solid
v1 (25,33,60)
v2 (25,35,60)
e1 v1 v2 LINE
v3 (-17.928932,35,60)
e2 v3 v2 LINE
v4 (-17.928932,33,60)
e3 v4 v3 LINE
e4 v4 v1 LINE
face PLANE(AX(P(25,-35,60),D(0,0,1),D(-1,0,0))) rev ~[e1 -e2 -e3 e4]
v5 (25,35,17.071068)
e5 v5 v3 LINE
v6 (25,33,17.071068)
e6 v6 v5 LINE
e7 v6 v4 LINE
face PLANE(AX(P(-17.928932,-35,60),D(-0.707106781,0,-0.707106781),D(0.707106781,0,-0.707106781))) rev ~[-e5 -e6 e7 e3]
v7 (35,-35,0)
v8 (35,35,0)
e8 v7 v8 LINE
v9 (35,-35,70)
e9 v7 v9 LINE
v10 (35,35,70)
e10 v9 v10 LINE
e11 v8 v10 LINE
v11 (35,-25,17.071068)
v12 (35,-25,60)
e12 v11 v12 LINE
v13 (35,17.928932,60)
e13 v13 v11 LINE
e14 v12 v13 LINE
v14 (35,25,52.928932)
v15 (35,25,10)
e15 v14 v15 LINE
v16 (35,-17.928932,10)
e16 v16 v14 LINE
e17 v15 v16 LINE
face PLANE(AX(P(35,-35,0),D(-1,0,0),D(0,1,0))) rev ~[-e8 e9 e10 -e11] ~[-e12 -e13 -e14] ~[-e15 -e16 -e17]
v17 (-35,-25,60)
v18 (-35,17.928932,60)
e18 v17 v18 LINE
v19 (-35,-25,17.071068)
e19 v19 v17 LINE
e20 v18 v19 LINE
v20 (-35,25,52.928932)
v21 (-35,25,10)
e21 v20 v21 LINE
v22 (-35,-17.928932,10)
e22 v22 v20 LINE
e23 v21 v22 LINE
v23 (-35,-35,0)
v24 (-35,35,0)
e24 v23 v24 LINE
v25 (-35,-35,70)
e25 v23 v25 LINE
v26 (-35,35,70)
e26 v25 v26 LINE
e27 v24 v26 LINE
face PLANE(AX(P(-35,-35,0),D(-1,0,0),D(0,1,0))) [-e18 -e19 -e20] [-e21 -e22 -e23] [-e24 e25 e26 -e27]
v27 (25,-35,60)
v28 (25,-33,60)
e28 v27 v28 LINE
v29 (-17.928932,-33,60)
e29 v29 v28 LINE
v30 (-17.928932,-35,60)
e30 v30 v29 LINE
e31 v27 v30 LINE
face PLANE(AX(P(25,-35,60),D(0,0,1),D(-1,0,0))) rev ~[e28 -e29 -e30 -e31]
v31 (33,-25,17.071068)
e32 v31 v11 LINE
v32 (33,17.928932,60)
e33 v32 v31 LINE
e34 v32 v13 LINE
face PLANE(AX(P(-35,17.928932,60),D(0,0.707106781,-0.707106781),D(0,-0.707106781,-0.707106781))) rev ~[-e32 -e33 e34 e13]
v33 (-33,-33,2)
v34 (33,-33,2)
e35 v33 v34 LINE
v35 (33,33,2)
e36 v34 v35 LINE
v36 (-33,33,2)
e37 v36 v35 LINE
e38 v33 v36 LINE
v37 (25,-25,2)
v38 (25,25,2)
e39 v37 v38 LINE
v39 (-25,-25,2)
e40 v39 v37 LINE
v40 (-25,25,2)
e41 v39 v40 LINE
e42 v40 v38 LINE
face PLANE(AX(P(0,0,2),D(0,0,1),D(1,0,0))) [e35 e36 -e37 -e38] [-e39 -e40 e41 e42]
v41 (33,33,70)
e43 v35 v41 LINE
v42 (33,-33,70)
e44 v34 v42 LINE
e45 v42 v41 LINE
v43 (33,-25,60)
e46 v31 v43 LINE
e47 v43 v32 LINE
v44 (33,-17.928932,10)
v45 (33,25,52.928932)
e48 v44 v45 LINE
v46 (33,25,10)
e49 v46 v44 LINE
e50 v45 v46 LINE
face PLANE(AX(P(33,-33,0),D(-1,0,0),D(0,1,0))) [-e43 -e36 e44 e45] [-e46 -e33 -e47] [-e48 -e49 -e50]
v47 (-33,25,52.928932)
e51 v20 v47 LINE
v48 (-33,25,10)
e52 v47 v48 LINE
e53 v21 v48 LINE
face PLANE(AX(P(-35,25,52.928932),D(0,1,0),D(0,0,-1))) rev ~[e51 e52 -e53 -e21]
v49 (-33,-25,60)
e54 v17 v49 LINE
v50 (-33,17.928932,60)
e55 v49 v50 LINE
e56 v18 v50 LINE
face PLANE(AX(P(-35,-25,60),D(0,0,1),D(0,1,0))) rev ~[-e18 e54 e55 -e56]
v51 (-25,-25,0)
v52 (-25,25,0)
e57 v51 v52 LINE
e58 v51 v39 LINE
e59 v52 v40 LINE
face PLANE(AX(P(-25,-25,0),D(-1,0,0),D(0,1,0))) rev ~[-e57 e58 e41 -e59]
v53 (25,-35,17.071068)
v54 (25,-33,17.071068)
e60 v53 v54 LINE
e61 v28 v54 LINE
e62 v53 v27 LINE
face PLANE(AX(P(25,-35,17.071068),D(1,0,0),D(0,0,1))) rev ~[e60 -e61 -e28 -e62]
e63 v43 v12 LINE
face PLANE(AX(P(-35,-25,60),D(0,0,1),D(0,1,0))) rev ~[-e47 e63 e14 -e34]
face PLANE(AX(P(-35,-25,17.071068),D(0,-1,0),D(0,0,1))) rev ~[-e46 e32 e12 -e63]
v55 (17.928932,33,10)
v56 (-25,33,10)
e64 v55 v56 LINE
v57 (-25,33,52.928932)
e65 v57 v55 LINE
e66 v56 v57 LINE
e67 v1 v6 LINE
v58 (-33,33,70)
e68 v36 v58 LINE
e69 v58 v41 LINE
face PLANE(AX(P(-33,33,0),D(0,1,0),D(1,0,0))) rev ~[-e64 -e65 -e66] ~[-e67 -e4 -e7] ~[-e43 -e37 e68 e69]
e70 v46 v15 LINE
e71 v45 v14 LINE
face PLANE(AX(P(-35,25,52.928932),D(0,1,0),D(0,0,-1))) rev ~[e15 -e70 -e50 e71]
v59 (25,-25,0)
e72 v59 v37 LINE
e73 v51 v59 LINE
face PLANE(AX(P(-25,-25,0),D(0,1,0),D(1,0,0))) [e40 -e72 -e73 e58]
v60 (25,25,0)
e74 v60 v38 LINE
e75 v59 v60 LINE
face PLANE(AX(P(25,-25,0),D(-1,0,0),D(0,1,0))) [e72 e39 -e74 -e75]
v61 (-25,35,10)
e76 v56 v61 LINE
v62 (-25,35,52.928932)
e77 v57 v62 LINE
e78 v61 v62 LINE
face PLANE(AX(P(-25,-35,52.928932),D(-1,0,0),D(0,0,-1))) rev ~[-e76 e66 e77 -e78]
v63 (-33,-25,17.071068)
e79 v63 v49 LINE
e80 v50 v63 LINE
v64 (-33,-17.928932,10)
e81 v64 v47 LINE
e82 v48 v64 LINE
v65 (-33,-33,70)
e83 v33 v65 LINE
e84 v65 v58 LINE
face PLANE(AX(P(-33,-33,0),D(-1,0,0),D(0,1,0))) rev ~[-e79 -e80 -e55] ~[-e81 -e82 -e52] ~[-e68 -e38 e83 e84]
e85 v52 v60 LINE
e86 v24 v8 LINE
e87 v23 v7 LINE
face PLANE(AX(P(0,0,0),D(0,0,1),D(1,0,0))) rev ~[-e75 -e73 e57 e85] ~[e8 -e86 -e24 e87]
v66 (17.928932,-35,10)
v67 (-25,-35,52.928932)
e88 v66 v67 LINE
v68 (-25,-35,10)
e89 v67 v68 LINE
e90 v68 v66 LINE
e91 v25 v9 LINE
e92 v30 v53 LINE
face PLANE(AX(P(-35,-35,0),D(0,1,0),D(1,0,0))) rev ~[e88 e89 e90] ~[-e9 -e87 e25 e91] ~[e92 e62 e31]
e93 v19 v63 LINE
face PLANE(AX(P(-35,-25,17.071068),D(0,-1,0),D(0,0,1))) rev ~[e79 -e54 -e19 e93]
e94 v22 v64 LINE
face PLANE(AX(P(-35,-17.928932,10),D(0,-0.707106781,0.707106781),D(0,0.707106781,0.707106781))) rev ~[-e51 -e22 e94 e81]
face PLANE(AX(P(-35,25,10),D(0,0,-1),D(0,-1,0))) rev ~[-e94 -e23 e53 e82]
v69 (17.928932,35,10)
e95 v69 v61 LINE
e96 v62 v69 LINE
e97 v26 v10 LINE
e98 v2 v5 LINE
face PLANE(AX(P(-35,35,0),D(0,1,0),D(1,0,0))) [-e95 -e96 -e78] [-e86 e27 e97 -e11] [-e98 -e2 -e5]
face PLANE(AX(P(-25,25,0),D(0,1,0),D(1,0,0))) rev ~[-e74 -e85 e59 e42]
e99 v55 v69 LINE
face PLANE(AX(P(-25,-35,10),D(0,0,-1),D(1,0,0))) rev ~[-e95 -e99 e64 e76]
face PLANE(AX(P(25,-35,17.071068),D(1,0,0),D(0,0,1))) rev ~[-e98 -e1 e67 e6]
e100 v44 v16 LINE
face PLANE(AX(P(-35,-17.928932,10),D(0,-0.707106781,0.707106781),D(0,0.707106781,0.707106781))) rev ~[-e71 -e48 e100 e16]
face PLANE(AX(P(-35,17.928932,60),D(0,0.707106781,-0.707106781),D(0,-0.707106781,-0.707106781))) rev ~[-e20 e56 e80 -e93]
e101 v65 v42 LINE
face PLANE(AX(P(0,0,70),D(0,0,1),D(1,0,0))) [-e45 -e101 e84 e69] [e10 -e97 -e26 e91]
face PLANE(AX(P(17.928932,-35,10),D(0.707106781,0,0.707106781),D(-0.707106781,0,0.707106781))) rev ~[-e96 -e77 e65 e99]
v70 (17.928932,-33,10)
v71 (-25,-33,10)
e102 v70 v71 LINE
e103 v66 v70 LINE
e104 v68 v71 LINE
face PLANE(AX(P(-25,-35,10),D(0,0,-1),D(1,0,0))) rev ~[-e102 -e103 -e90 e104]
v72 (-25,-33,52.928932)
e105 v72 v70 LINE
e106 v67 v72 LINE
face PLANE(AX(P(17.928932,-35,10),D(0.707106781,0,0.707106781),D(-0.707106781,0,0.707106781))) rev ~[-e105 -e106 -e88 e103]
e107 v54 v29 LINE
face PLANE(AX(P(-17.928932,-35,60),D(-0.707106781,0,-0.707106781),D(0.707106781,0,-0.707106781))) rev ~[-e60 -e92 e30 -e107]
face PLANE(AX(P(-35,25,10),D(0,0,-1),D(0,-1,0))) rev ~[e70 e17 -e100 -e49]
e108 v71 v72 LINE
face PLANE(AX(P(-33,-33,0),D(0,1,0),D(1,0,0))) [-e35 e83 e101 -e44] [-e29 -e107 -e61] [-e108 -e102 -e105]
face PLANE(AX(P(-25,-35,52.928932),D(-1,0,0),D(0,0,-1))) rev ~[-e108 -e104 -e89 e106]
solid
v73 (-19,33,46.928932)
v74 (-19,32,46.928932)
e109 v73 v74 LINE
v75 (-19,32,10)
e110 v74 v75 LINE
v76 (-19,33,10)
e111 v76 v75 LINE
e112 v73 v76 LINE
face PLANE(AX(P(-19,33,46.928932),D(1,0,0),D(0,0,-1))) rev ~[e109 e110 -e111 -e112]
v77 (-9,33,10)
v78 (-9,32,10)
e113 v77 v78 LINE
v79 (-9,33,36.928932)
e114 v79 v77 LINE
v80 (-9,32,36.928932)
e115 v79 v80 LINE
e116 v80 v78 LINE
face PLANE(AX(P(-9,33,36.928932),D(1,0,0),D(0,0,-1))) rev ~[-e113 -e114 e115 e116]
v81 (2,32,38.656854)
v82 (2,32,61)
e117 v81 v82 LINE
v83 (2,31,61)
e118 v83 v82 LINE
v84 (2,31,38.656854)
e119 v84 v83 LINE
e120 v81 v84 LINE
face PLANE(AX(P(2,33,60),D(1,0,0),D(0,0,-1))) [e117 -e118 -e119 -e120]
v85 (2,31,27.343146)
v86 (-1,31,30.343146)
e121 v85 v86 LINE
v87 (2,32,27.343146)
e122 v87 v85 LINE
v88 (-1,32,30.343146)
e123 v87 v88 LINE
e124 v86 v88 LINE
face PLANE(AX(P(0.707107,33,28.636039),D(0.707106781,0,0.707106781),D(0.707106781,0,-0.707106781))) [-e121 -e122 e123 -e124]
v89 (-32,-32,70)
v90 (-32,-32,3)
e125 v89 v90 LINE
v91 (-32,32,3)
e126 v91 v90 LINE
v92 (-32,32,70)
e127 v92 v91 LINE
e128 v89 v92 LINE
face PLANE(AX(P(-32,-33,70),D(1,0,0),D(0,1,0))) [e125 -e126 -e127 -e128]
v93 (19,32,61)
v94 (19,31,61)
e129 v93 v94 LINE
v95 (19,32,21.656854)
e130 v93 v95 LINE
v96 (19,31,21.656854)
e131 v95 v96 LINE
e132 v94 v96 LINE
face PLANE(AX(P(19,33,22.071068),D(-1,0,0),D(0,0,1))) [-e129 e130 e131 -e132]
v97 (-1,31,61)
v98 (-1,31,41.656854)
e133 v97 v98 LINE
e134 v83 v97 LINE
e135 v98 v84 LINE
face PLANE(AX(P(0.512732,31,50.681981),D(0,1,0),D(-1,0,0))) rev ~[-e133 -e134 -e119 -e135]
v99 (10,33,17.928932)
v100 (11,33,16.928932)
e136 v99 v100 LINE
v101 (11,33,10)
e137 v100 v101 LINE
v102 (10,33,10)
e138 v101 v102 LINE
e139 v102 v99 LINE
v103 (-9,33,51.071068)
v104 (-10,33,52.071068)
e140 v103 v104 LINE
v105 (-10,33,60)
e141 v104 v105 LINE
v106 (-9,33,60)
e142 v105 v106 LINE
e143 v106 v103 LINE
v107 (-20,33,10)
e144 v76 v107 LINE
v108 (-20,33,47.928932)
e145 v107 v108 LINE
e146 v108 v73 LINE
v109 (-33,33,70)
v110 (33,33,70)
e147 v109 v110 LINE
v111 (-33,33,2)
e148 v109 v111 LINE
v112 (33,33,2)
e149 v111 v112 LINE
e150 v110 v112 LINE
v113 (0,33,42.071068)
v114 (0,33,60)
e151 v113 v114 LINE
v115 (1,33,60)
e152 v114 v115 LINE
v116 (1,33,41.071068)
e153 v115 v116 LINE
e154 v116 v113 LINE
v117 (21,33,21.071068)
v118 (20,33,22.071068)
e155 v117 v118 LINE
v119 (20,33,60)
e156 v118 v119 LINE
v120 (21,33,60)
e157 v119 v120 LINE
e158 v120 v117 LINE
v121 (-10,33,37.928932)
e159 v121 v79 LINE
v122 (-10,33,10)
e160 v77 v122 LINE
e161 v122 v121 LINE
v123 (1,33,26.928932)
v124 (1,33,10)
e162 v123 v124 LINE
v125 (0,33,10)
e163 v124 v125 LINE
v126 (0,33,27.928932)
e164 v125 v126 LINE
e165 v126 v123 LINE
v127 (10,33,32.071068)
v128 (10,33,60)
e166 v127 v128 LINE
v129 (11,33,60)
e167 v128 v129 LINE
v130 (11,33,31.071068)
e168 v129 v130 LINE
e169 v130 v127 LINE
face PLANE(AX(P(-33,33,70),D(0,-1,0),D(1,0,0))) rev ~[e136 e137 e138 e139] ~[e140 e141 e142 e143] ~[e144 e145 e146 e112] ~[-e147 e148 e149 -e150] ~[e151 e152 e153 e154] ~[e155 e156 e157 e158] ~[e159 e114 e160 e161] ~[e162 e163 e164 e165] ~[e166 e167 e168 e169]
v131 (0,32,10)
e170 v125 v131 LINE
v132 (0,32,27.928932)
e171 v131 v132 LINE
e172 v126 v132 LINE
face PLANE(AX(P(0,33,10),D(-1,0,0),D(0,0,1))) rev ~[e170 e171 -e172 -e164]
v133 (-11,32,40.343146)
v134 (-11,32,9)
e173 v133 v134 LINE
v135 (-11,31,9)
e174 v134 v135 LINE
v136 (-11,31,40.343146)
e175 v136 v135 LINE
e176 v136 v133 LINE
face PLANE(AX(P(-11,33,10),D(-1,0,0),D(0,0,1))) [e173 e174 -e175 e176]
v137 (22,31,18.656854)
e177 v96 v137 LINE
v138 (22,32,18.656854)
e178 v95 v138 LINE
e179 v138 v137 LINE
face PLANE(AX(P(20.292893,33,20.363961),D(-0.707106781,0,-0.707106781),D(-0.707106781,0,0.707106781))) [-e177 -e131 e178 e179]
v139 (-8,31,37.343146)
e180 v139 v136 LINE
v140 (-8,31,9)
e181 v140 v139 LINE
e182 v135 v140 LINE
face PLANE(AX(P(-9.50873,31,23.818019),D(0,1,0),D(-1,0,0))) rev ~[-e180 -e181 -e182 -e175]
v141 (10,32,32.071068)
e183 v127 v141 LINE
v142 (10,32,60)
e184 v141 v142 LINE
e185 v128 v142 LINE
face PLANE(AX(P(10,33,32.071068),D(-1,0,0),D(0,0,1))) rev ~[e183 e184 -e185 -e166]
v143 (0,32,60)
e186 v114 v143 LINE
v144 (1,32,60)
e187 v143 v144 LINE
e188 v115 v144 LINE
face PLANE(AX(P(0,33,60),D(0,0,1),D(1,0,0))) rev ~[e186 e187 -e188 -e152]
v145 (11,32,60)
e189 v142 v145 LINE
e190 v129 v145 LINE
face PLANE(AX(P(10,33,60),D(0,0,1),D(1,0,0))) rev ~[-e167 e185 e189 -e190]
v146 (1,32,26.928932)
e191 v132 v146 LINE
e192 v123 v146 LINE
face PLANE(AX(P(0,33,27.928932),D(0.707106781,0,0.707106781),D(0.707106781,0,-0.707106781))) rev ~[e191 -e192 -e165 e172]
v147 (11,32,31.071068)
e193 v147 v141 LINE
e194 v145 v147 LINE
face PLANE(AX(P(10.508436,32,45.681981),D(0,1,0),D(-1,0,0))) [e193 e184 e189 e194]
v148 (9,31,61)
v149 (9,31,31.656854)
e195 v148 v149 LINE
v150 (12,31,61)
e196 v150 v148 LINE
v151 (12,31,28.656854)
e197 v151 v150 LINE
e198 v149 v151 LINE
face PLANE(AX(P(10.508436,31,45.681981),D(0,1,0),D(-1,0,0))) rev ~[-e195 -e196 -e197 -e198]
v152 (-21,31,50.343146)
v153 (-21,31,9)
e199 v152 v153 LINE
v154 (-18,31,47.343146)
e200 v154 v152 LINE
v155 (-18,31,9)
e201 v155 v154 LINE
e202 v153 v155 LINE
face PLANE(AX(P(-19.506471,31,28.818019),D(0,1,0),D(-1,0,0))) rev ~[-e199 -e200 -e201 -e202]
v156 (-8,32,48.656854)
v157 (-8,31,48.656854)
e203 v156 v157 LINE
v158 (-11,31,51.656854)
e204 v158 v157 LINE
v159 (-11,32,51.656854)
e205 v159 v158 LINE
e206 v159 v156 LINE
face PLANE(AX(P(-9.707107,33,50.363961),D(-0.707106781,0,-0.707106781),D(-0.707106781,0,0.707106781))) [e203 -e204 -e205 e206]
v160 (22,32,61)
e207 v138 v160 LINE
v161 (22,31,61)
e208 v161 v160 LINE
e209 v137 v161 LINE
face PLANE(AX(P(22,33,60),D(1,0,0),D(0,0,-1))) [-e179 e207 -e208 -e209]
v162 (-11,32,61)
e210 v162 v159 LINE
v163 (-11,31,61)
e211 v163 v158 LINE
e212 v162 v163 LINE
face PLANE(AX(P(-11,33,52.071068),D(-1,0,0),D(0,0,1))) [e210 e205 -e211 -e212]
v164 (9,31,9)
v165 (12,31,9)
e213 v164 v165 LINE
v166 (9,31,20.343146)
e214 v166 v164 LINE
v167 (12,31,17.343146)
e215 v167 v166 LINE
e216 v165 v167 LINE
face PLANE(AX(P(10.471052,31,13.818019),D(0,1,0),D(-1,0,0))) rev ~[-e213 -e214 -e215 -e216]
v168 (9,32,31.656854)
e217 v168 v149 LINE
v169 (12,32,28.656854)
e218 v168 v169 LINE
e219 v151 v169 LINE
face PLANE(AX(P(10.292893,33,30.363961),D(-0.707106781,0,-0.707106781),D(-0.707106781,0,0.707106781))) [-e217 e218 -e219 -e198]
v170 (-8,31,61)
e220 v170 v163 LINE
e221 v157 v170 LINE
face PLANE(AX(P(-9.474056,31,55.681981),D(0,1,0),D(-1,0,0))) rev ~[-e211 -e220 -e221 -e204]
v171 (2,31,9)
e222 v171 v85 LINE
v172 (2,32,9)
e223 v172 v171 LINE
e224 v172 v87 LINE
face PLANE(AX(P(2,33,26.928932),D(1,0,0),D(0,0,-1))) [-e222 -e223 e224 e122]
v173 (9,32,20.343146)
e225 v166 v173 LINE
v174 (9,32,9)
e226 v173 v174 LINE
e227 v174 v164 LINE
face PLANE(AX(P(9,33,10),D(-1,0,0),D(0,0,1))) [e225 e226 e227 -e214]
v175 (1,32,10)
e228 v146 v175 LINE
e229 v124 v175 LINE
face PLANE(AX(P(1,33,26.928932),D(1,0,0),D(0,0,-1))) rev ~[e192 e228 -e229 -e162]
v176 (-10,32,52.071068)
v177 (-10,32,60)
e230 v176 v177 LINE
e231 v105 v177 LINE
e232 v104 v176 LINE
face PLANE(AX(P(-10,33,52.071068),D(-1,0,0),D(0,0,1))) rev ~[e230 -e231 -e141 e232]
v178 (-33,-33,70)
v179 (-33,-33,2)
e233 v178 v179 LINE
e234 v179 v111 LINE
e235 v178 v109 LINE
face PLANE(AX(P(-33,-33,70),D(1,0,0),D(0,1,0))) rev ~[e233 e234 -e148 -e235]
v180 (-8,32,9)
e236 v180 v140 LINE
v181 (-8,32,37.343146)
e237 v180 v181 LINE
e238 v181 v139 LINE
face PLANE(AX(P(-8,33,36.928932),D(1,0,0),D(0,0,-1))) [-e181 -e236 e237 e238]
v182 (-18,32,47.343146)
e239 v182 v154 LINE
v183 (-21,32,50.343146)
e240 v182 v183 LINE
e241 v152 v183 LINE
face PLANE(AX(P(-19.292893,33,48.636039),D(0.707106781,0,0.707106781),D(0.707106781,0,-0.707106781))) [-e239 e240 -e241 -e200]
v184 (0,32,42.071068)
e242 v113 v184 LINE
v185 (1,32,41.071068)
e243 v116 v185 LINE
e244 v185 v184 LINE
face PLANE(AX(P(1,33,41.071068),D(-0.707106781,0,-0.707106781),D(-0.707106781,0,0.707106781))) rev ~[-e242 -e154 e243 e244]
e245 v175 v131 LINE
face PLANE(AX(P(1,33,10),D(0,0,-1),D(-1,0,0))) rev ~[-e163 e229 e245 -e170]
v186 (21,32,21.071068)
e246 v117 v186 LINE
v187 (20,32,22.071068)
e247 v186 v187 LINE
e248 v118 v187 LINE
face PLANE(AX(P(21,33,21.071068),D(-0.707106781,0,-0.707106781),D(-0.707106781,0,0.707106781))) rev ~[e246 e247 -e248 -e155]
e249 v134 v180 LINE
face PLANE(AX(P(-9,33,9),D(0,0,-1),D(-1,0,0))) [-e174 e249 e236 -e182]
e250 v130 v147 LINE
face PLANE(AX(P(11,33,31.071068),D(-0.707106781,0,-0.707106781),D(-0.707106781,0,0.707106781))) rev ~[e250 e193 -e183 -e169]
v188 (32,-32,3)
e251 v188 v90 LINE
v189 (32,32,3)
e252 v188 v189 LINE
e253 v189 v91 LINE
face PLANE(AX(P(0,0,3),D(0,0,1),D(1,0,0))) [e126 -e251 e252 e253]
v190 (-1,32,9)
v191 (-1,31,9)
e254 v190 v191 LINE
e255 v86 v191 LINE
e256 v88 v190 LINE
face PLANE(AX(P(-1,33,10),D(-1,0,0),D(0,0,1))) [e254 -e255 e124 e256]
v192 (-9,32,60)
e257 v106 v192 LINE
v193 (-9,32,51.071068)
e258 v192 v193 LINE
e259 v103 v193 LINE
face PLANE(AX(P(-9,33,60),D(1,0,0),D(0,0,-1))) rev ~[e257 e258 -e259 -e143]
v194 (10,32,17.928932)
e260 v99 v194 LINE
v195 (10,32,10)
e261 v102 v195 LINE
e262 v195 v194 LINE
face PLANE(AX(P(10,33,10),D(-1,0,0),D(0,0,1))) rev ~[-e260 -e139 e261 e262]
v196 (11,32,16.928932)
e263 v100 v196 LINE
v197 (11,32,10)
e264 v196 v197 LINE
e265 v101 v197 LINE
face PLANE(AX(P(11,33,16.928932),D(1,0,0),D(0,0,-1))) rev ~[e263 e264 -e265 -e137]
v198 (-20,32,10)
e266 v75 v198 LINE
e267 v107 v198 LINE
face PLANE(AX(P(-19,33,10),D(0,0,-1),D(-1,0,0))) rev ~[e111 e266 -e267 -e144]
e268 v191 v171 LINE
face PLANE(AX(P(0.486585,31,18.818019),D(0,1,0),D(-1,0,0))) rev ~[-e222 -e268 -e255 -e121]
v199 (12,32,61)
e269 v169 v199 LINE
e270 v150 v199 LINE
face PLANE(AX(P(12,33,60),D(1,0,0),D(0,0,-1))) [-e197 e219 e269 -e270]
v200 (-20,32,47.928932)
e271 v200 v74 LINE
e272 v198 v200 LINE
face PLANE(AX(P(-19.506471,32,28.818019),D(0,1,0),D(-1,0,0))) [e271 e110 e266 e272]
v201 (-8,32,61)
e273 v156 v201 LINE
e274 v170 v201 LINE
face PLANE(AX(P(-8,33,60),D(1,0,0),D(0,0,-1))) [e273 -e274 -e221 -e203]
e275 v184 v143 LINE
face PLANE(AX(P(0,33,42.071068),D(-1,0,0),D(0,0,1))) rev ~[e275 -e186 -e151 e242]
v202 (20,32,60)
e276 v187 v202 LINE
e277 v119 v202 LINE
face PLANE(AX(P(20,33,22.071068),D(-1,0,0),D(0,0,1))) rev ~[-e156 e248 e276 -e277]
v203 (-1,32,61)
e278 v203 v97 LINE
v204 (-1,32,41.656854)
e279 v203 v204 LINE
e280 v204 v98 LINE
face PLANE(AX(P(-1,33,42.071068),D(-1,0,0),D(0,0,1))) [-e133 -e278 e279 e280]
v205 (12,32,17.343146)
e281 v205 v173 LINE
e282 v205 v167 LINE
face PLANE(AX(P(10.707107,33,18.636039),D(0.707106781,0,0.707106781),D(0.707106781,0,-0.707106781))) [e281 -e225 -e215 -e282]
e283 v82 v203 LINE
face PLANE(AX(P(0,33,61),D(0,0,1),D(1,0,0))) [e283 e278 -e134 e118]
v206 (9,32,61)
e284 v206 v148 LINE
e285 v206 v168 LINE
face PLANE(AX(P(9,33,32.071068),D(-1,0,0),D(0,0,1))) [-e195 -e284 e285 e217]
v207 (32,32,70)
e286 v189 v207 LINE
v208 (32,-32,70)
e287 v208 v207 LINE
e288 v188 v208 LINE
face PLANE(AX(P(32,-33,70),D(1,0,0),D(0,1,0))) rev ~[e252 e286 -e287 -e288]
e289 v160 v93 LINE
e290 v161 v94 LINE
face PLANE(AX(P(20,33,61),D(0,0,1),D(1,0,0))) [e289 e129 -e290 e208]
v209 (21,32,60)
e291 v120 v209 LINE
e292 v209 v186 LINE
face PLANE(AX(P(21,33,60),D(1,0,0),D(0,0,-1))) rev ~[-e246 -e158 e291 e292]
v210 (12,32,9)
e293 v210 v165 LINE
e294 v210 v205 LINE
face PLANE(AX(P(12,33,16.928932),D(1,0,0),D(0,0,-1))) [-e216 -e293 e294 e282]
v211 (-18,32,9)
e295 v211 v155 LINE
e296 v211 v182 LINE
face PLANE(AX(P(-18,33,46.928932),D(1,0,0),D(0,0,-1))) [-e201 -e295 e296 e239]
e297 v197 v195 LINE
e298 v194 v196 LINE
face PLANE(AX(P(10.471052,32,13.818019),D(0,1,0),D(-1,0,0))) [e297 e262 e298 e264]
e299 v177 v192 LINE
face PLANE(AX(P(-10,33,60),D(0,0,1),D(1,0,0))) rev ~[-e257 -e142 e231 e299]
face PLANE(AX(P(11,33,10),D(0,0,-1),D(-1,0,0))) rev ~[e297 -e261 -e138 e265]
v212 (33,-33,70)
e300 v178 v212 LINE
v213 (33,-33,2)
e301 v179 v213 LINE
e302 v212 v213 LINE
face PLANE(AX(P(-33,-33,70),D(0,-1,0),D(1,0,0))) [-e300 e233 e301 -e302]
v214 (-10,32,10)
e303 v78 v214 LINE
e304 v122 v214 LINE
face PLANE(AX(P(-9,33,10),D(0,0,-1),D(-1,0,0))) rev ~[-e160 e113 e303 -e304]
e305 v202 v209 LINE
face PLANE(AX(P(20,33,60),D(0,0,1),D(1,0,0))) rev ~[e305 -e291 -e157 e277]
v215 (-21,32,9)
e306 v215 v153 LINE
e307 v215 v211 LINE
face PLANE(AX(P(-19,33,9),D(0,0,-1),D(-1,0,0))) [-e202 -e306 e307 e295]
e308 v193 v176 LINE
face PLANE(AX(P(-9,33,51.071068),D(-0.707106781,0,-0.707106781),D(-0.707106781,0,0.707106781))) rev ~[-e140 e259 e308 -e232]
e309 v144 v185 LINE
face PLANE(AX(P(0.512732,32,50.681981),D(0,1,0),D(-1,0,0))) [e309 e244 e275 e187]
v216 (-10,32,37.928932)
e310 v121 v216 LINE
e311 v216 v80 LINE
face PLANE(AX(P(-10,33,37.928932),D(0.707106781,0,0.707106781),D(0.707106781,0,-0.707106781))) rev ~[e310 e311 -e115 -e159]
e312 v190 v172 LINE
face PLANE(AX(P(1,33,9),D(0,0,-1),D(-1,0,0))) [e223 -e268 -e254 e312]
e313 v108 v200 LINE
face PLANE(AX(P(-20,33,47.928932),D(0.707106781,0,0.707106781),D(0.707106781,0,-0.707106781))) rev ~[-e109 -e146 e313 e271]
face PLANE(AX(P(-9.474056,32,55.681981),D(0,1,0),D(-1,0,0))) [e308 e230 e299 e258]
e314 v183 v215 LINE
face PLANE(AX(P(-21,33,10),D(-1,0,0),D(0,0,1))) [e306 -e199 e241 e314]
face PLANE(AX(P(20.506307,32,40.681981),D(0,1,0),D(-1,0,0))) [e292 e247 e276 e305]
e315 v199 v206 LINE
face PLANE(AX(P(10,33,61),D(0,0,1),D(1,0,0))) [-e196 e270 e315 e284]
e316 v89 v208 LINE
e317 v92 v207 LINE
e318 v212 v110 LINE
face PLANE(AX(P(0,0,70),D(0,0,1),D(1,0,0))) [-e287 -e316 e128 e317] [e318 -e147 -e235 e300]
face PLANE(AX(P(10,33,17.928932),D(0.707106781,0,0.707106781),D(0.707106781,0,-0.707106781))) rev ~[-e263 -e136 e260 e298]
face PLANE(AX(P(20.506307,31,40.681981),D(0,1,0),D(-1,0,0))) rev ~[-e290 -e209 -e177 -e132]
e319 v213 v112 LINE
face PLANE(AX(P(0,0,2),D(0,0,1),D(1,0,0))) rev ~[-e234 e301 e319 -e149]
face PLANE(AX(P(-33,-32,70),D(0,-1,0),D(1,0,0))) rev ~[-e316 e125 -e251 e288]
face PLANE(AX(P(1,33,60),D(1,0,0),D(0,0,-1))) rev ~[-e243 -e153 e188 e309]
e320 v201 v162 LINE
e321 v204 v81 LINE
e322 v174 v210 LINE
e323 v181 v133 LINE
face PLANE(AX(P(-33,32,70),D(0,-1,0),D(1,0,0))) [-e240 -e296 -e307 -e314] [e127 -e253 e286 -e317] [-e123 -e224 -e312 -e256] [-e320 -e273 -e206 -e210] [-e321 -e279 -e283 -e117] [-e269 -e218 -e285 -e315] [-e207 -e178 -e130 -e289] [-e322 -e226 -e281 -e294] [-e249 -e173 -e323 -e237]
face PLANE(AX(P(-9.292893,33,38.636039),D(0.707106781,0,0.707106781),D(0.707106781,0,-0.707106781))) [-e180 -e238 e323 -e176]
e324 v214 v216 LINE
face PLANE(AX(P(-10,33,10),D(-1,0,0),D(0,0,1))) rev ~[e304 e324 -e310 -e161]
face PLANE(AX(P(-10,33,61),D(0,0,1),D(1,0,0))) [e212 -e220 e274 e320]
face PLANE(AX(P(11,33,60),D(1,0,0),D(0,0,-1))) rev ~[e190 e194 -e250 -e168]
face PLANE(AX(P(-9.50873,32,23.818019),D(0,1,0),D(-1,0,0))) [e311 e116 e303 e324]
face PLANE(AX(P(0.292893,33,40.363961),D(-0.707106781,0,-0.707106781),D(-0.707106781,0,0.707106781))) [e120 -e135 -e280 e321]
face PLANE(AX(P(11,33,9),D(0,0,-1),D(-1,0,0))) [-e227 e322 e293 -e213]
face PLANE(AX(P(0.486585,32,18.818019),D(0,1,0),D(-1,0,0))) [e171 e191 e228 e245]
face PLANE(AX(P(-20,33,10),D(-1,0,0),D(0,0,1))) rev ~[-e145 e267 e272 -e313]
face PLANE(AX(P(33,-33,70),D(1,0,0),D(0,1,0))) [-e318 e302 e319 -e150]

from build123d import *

# Parameters (mm, degrees)
F0_W      = 66
F0_H      = 66
F0_W_2    = 50
F0_H_2    = 50
F1_DEPTH  = 2
F0_W_3    = 70
F0_H_3    = 70
F2_DEPTH  = 70
F4_DEPTH  = 70.001
F6_DEPTH  = 70.001
F7_W      = 66
F7_H      = 66
F8_DEPTH  = 68
F10_DEPTH = 1
F11_DEPTH = 1
F12_T     = -1


with BuildPart() as f1:
    # F0 (on Top) → F1 (new body)
    with BuildSketch(Plane.XY):
        Rectangle(F0_W, F0_H)
        Rectangle(F0_W_2, F0_H_2, mode=Mode.SUBTRACT)
    extrude(amount=F1_DEPTH)

    # F0 (on Top) → F2 (join)
    with BuildSketch(Plane.XY):
        Rectangle(F0_W_3, F0_H_3)
        Rectangle(F0_W, F0_H, mode=Mode.SUBTRACT)
    extrude(amount=F2_DEPTH)

    # F3 (on face) → F4 (cut, through all)
    with BuildSketch(Plane.XZ.offset(35)):
        Polygon((-17.9289321881, 60), (25, 17.0710678119), (25, 60), align=None)
        Polygon((-25, 10), (17.9289321881, 10), (-25, 52.9289321881), align=None)
    extrude(amount=-F4_DEPTH, mode=Mode.SUBTRACT)

    # F5 (on face) → F6 (cut, through all)
    with BuildSketch(Plane(origin=(-35, 0, 0), x_dir=(0, -1, 0), z_dir=(-1, 0, 0))):
        Polygon((-17.9289321881, 60), (25, 17.0710678119), (25, 60), align=None)
        Polygon((-25, 10), (17.9289321881, 10), (-25, 52.9289321881), align=None)
    extrude(amount=-F6_DEPTH, mode=Mode.SUBTRACT)


with BuildPart() as f8:
    # F7 (on face) → F8 (new body, through all)
    with BuildSketch(Plane.XY.offset(70)):
        Rectangle(F7_W, F7_H)
    extrude(amount=-F8_DEPTH)

    # F9 (on face) → F10 (cut)
    with BuildSketch(Plane(origin=(0, 33, 0), x_dir=(-1, 0, 0), z_dir=(0, 1, 0))):
        Polygon((-11, 60), (-11, 31.0710678119), (-10, 32.0710678119), (-10, 60), align=None)
    extrude(amount=-F10_DEPTH, mode=Mode.SUBTRACT)

    # F9 (on face) → F11 (cut)
    with BuildSketch(Plane(origin=(0, 33, 0), x_dir=(-1, 0, 0), z_dir=(0, 1, 0))):
        Polygon((-21, 60), (-21, 21.0710678119), (-20, 22.0710678119), (-20, 60), align=None)
        Polygon((-1, 60), (-1, 41.0710678119), (0, 42.0710678119), (0, 60), align=None)
        Polygon((9, 60), (9, 51.0710678119), (10, 52.0710678119), (10, 60), align=None)
        Polygon((20, 47.9289321881), (19, 46.9289321881), (19, 10), (20, 10), align=None)
        Polygon((10, 37.9289321881), (9, 36.9289321881), (9, 10), (10, 10), align=None)
        Polygon((0, 27.9289321881), (-1, 26.9289321881), (-1, 10), (0, 10), align=None)
        Polygon((-10, 17.9289321881), (-11, 16.9289321881), (-11, 10), (-10, 10), align=None)
    extrude(amount=-F11_DEPTH, mode=Mode.SUBTRACT)

    # F12
    f12_openings = [f8.faces().sort_by_distance(p)[0] for p in [
        (0, 0, 70),
    ]]
    offset(amount=F12_T, openings=f12_openings, kind=Kind.INTERSECTION)


solid = Compound([f1.part, f8.part])
